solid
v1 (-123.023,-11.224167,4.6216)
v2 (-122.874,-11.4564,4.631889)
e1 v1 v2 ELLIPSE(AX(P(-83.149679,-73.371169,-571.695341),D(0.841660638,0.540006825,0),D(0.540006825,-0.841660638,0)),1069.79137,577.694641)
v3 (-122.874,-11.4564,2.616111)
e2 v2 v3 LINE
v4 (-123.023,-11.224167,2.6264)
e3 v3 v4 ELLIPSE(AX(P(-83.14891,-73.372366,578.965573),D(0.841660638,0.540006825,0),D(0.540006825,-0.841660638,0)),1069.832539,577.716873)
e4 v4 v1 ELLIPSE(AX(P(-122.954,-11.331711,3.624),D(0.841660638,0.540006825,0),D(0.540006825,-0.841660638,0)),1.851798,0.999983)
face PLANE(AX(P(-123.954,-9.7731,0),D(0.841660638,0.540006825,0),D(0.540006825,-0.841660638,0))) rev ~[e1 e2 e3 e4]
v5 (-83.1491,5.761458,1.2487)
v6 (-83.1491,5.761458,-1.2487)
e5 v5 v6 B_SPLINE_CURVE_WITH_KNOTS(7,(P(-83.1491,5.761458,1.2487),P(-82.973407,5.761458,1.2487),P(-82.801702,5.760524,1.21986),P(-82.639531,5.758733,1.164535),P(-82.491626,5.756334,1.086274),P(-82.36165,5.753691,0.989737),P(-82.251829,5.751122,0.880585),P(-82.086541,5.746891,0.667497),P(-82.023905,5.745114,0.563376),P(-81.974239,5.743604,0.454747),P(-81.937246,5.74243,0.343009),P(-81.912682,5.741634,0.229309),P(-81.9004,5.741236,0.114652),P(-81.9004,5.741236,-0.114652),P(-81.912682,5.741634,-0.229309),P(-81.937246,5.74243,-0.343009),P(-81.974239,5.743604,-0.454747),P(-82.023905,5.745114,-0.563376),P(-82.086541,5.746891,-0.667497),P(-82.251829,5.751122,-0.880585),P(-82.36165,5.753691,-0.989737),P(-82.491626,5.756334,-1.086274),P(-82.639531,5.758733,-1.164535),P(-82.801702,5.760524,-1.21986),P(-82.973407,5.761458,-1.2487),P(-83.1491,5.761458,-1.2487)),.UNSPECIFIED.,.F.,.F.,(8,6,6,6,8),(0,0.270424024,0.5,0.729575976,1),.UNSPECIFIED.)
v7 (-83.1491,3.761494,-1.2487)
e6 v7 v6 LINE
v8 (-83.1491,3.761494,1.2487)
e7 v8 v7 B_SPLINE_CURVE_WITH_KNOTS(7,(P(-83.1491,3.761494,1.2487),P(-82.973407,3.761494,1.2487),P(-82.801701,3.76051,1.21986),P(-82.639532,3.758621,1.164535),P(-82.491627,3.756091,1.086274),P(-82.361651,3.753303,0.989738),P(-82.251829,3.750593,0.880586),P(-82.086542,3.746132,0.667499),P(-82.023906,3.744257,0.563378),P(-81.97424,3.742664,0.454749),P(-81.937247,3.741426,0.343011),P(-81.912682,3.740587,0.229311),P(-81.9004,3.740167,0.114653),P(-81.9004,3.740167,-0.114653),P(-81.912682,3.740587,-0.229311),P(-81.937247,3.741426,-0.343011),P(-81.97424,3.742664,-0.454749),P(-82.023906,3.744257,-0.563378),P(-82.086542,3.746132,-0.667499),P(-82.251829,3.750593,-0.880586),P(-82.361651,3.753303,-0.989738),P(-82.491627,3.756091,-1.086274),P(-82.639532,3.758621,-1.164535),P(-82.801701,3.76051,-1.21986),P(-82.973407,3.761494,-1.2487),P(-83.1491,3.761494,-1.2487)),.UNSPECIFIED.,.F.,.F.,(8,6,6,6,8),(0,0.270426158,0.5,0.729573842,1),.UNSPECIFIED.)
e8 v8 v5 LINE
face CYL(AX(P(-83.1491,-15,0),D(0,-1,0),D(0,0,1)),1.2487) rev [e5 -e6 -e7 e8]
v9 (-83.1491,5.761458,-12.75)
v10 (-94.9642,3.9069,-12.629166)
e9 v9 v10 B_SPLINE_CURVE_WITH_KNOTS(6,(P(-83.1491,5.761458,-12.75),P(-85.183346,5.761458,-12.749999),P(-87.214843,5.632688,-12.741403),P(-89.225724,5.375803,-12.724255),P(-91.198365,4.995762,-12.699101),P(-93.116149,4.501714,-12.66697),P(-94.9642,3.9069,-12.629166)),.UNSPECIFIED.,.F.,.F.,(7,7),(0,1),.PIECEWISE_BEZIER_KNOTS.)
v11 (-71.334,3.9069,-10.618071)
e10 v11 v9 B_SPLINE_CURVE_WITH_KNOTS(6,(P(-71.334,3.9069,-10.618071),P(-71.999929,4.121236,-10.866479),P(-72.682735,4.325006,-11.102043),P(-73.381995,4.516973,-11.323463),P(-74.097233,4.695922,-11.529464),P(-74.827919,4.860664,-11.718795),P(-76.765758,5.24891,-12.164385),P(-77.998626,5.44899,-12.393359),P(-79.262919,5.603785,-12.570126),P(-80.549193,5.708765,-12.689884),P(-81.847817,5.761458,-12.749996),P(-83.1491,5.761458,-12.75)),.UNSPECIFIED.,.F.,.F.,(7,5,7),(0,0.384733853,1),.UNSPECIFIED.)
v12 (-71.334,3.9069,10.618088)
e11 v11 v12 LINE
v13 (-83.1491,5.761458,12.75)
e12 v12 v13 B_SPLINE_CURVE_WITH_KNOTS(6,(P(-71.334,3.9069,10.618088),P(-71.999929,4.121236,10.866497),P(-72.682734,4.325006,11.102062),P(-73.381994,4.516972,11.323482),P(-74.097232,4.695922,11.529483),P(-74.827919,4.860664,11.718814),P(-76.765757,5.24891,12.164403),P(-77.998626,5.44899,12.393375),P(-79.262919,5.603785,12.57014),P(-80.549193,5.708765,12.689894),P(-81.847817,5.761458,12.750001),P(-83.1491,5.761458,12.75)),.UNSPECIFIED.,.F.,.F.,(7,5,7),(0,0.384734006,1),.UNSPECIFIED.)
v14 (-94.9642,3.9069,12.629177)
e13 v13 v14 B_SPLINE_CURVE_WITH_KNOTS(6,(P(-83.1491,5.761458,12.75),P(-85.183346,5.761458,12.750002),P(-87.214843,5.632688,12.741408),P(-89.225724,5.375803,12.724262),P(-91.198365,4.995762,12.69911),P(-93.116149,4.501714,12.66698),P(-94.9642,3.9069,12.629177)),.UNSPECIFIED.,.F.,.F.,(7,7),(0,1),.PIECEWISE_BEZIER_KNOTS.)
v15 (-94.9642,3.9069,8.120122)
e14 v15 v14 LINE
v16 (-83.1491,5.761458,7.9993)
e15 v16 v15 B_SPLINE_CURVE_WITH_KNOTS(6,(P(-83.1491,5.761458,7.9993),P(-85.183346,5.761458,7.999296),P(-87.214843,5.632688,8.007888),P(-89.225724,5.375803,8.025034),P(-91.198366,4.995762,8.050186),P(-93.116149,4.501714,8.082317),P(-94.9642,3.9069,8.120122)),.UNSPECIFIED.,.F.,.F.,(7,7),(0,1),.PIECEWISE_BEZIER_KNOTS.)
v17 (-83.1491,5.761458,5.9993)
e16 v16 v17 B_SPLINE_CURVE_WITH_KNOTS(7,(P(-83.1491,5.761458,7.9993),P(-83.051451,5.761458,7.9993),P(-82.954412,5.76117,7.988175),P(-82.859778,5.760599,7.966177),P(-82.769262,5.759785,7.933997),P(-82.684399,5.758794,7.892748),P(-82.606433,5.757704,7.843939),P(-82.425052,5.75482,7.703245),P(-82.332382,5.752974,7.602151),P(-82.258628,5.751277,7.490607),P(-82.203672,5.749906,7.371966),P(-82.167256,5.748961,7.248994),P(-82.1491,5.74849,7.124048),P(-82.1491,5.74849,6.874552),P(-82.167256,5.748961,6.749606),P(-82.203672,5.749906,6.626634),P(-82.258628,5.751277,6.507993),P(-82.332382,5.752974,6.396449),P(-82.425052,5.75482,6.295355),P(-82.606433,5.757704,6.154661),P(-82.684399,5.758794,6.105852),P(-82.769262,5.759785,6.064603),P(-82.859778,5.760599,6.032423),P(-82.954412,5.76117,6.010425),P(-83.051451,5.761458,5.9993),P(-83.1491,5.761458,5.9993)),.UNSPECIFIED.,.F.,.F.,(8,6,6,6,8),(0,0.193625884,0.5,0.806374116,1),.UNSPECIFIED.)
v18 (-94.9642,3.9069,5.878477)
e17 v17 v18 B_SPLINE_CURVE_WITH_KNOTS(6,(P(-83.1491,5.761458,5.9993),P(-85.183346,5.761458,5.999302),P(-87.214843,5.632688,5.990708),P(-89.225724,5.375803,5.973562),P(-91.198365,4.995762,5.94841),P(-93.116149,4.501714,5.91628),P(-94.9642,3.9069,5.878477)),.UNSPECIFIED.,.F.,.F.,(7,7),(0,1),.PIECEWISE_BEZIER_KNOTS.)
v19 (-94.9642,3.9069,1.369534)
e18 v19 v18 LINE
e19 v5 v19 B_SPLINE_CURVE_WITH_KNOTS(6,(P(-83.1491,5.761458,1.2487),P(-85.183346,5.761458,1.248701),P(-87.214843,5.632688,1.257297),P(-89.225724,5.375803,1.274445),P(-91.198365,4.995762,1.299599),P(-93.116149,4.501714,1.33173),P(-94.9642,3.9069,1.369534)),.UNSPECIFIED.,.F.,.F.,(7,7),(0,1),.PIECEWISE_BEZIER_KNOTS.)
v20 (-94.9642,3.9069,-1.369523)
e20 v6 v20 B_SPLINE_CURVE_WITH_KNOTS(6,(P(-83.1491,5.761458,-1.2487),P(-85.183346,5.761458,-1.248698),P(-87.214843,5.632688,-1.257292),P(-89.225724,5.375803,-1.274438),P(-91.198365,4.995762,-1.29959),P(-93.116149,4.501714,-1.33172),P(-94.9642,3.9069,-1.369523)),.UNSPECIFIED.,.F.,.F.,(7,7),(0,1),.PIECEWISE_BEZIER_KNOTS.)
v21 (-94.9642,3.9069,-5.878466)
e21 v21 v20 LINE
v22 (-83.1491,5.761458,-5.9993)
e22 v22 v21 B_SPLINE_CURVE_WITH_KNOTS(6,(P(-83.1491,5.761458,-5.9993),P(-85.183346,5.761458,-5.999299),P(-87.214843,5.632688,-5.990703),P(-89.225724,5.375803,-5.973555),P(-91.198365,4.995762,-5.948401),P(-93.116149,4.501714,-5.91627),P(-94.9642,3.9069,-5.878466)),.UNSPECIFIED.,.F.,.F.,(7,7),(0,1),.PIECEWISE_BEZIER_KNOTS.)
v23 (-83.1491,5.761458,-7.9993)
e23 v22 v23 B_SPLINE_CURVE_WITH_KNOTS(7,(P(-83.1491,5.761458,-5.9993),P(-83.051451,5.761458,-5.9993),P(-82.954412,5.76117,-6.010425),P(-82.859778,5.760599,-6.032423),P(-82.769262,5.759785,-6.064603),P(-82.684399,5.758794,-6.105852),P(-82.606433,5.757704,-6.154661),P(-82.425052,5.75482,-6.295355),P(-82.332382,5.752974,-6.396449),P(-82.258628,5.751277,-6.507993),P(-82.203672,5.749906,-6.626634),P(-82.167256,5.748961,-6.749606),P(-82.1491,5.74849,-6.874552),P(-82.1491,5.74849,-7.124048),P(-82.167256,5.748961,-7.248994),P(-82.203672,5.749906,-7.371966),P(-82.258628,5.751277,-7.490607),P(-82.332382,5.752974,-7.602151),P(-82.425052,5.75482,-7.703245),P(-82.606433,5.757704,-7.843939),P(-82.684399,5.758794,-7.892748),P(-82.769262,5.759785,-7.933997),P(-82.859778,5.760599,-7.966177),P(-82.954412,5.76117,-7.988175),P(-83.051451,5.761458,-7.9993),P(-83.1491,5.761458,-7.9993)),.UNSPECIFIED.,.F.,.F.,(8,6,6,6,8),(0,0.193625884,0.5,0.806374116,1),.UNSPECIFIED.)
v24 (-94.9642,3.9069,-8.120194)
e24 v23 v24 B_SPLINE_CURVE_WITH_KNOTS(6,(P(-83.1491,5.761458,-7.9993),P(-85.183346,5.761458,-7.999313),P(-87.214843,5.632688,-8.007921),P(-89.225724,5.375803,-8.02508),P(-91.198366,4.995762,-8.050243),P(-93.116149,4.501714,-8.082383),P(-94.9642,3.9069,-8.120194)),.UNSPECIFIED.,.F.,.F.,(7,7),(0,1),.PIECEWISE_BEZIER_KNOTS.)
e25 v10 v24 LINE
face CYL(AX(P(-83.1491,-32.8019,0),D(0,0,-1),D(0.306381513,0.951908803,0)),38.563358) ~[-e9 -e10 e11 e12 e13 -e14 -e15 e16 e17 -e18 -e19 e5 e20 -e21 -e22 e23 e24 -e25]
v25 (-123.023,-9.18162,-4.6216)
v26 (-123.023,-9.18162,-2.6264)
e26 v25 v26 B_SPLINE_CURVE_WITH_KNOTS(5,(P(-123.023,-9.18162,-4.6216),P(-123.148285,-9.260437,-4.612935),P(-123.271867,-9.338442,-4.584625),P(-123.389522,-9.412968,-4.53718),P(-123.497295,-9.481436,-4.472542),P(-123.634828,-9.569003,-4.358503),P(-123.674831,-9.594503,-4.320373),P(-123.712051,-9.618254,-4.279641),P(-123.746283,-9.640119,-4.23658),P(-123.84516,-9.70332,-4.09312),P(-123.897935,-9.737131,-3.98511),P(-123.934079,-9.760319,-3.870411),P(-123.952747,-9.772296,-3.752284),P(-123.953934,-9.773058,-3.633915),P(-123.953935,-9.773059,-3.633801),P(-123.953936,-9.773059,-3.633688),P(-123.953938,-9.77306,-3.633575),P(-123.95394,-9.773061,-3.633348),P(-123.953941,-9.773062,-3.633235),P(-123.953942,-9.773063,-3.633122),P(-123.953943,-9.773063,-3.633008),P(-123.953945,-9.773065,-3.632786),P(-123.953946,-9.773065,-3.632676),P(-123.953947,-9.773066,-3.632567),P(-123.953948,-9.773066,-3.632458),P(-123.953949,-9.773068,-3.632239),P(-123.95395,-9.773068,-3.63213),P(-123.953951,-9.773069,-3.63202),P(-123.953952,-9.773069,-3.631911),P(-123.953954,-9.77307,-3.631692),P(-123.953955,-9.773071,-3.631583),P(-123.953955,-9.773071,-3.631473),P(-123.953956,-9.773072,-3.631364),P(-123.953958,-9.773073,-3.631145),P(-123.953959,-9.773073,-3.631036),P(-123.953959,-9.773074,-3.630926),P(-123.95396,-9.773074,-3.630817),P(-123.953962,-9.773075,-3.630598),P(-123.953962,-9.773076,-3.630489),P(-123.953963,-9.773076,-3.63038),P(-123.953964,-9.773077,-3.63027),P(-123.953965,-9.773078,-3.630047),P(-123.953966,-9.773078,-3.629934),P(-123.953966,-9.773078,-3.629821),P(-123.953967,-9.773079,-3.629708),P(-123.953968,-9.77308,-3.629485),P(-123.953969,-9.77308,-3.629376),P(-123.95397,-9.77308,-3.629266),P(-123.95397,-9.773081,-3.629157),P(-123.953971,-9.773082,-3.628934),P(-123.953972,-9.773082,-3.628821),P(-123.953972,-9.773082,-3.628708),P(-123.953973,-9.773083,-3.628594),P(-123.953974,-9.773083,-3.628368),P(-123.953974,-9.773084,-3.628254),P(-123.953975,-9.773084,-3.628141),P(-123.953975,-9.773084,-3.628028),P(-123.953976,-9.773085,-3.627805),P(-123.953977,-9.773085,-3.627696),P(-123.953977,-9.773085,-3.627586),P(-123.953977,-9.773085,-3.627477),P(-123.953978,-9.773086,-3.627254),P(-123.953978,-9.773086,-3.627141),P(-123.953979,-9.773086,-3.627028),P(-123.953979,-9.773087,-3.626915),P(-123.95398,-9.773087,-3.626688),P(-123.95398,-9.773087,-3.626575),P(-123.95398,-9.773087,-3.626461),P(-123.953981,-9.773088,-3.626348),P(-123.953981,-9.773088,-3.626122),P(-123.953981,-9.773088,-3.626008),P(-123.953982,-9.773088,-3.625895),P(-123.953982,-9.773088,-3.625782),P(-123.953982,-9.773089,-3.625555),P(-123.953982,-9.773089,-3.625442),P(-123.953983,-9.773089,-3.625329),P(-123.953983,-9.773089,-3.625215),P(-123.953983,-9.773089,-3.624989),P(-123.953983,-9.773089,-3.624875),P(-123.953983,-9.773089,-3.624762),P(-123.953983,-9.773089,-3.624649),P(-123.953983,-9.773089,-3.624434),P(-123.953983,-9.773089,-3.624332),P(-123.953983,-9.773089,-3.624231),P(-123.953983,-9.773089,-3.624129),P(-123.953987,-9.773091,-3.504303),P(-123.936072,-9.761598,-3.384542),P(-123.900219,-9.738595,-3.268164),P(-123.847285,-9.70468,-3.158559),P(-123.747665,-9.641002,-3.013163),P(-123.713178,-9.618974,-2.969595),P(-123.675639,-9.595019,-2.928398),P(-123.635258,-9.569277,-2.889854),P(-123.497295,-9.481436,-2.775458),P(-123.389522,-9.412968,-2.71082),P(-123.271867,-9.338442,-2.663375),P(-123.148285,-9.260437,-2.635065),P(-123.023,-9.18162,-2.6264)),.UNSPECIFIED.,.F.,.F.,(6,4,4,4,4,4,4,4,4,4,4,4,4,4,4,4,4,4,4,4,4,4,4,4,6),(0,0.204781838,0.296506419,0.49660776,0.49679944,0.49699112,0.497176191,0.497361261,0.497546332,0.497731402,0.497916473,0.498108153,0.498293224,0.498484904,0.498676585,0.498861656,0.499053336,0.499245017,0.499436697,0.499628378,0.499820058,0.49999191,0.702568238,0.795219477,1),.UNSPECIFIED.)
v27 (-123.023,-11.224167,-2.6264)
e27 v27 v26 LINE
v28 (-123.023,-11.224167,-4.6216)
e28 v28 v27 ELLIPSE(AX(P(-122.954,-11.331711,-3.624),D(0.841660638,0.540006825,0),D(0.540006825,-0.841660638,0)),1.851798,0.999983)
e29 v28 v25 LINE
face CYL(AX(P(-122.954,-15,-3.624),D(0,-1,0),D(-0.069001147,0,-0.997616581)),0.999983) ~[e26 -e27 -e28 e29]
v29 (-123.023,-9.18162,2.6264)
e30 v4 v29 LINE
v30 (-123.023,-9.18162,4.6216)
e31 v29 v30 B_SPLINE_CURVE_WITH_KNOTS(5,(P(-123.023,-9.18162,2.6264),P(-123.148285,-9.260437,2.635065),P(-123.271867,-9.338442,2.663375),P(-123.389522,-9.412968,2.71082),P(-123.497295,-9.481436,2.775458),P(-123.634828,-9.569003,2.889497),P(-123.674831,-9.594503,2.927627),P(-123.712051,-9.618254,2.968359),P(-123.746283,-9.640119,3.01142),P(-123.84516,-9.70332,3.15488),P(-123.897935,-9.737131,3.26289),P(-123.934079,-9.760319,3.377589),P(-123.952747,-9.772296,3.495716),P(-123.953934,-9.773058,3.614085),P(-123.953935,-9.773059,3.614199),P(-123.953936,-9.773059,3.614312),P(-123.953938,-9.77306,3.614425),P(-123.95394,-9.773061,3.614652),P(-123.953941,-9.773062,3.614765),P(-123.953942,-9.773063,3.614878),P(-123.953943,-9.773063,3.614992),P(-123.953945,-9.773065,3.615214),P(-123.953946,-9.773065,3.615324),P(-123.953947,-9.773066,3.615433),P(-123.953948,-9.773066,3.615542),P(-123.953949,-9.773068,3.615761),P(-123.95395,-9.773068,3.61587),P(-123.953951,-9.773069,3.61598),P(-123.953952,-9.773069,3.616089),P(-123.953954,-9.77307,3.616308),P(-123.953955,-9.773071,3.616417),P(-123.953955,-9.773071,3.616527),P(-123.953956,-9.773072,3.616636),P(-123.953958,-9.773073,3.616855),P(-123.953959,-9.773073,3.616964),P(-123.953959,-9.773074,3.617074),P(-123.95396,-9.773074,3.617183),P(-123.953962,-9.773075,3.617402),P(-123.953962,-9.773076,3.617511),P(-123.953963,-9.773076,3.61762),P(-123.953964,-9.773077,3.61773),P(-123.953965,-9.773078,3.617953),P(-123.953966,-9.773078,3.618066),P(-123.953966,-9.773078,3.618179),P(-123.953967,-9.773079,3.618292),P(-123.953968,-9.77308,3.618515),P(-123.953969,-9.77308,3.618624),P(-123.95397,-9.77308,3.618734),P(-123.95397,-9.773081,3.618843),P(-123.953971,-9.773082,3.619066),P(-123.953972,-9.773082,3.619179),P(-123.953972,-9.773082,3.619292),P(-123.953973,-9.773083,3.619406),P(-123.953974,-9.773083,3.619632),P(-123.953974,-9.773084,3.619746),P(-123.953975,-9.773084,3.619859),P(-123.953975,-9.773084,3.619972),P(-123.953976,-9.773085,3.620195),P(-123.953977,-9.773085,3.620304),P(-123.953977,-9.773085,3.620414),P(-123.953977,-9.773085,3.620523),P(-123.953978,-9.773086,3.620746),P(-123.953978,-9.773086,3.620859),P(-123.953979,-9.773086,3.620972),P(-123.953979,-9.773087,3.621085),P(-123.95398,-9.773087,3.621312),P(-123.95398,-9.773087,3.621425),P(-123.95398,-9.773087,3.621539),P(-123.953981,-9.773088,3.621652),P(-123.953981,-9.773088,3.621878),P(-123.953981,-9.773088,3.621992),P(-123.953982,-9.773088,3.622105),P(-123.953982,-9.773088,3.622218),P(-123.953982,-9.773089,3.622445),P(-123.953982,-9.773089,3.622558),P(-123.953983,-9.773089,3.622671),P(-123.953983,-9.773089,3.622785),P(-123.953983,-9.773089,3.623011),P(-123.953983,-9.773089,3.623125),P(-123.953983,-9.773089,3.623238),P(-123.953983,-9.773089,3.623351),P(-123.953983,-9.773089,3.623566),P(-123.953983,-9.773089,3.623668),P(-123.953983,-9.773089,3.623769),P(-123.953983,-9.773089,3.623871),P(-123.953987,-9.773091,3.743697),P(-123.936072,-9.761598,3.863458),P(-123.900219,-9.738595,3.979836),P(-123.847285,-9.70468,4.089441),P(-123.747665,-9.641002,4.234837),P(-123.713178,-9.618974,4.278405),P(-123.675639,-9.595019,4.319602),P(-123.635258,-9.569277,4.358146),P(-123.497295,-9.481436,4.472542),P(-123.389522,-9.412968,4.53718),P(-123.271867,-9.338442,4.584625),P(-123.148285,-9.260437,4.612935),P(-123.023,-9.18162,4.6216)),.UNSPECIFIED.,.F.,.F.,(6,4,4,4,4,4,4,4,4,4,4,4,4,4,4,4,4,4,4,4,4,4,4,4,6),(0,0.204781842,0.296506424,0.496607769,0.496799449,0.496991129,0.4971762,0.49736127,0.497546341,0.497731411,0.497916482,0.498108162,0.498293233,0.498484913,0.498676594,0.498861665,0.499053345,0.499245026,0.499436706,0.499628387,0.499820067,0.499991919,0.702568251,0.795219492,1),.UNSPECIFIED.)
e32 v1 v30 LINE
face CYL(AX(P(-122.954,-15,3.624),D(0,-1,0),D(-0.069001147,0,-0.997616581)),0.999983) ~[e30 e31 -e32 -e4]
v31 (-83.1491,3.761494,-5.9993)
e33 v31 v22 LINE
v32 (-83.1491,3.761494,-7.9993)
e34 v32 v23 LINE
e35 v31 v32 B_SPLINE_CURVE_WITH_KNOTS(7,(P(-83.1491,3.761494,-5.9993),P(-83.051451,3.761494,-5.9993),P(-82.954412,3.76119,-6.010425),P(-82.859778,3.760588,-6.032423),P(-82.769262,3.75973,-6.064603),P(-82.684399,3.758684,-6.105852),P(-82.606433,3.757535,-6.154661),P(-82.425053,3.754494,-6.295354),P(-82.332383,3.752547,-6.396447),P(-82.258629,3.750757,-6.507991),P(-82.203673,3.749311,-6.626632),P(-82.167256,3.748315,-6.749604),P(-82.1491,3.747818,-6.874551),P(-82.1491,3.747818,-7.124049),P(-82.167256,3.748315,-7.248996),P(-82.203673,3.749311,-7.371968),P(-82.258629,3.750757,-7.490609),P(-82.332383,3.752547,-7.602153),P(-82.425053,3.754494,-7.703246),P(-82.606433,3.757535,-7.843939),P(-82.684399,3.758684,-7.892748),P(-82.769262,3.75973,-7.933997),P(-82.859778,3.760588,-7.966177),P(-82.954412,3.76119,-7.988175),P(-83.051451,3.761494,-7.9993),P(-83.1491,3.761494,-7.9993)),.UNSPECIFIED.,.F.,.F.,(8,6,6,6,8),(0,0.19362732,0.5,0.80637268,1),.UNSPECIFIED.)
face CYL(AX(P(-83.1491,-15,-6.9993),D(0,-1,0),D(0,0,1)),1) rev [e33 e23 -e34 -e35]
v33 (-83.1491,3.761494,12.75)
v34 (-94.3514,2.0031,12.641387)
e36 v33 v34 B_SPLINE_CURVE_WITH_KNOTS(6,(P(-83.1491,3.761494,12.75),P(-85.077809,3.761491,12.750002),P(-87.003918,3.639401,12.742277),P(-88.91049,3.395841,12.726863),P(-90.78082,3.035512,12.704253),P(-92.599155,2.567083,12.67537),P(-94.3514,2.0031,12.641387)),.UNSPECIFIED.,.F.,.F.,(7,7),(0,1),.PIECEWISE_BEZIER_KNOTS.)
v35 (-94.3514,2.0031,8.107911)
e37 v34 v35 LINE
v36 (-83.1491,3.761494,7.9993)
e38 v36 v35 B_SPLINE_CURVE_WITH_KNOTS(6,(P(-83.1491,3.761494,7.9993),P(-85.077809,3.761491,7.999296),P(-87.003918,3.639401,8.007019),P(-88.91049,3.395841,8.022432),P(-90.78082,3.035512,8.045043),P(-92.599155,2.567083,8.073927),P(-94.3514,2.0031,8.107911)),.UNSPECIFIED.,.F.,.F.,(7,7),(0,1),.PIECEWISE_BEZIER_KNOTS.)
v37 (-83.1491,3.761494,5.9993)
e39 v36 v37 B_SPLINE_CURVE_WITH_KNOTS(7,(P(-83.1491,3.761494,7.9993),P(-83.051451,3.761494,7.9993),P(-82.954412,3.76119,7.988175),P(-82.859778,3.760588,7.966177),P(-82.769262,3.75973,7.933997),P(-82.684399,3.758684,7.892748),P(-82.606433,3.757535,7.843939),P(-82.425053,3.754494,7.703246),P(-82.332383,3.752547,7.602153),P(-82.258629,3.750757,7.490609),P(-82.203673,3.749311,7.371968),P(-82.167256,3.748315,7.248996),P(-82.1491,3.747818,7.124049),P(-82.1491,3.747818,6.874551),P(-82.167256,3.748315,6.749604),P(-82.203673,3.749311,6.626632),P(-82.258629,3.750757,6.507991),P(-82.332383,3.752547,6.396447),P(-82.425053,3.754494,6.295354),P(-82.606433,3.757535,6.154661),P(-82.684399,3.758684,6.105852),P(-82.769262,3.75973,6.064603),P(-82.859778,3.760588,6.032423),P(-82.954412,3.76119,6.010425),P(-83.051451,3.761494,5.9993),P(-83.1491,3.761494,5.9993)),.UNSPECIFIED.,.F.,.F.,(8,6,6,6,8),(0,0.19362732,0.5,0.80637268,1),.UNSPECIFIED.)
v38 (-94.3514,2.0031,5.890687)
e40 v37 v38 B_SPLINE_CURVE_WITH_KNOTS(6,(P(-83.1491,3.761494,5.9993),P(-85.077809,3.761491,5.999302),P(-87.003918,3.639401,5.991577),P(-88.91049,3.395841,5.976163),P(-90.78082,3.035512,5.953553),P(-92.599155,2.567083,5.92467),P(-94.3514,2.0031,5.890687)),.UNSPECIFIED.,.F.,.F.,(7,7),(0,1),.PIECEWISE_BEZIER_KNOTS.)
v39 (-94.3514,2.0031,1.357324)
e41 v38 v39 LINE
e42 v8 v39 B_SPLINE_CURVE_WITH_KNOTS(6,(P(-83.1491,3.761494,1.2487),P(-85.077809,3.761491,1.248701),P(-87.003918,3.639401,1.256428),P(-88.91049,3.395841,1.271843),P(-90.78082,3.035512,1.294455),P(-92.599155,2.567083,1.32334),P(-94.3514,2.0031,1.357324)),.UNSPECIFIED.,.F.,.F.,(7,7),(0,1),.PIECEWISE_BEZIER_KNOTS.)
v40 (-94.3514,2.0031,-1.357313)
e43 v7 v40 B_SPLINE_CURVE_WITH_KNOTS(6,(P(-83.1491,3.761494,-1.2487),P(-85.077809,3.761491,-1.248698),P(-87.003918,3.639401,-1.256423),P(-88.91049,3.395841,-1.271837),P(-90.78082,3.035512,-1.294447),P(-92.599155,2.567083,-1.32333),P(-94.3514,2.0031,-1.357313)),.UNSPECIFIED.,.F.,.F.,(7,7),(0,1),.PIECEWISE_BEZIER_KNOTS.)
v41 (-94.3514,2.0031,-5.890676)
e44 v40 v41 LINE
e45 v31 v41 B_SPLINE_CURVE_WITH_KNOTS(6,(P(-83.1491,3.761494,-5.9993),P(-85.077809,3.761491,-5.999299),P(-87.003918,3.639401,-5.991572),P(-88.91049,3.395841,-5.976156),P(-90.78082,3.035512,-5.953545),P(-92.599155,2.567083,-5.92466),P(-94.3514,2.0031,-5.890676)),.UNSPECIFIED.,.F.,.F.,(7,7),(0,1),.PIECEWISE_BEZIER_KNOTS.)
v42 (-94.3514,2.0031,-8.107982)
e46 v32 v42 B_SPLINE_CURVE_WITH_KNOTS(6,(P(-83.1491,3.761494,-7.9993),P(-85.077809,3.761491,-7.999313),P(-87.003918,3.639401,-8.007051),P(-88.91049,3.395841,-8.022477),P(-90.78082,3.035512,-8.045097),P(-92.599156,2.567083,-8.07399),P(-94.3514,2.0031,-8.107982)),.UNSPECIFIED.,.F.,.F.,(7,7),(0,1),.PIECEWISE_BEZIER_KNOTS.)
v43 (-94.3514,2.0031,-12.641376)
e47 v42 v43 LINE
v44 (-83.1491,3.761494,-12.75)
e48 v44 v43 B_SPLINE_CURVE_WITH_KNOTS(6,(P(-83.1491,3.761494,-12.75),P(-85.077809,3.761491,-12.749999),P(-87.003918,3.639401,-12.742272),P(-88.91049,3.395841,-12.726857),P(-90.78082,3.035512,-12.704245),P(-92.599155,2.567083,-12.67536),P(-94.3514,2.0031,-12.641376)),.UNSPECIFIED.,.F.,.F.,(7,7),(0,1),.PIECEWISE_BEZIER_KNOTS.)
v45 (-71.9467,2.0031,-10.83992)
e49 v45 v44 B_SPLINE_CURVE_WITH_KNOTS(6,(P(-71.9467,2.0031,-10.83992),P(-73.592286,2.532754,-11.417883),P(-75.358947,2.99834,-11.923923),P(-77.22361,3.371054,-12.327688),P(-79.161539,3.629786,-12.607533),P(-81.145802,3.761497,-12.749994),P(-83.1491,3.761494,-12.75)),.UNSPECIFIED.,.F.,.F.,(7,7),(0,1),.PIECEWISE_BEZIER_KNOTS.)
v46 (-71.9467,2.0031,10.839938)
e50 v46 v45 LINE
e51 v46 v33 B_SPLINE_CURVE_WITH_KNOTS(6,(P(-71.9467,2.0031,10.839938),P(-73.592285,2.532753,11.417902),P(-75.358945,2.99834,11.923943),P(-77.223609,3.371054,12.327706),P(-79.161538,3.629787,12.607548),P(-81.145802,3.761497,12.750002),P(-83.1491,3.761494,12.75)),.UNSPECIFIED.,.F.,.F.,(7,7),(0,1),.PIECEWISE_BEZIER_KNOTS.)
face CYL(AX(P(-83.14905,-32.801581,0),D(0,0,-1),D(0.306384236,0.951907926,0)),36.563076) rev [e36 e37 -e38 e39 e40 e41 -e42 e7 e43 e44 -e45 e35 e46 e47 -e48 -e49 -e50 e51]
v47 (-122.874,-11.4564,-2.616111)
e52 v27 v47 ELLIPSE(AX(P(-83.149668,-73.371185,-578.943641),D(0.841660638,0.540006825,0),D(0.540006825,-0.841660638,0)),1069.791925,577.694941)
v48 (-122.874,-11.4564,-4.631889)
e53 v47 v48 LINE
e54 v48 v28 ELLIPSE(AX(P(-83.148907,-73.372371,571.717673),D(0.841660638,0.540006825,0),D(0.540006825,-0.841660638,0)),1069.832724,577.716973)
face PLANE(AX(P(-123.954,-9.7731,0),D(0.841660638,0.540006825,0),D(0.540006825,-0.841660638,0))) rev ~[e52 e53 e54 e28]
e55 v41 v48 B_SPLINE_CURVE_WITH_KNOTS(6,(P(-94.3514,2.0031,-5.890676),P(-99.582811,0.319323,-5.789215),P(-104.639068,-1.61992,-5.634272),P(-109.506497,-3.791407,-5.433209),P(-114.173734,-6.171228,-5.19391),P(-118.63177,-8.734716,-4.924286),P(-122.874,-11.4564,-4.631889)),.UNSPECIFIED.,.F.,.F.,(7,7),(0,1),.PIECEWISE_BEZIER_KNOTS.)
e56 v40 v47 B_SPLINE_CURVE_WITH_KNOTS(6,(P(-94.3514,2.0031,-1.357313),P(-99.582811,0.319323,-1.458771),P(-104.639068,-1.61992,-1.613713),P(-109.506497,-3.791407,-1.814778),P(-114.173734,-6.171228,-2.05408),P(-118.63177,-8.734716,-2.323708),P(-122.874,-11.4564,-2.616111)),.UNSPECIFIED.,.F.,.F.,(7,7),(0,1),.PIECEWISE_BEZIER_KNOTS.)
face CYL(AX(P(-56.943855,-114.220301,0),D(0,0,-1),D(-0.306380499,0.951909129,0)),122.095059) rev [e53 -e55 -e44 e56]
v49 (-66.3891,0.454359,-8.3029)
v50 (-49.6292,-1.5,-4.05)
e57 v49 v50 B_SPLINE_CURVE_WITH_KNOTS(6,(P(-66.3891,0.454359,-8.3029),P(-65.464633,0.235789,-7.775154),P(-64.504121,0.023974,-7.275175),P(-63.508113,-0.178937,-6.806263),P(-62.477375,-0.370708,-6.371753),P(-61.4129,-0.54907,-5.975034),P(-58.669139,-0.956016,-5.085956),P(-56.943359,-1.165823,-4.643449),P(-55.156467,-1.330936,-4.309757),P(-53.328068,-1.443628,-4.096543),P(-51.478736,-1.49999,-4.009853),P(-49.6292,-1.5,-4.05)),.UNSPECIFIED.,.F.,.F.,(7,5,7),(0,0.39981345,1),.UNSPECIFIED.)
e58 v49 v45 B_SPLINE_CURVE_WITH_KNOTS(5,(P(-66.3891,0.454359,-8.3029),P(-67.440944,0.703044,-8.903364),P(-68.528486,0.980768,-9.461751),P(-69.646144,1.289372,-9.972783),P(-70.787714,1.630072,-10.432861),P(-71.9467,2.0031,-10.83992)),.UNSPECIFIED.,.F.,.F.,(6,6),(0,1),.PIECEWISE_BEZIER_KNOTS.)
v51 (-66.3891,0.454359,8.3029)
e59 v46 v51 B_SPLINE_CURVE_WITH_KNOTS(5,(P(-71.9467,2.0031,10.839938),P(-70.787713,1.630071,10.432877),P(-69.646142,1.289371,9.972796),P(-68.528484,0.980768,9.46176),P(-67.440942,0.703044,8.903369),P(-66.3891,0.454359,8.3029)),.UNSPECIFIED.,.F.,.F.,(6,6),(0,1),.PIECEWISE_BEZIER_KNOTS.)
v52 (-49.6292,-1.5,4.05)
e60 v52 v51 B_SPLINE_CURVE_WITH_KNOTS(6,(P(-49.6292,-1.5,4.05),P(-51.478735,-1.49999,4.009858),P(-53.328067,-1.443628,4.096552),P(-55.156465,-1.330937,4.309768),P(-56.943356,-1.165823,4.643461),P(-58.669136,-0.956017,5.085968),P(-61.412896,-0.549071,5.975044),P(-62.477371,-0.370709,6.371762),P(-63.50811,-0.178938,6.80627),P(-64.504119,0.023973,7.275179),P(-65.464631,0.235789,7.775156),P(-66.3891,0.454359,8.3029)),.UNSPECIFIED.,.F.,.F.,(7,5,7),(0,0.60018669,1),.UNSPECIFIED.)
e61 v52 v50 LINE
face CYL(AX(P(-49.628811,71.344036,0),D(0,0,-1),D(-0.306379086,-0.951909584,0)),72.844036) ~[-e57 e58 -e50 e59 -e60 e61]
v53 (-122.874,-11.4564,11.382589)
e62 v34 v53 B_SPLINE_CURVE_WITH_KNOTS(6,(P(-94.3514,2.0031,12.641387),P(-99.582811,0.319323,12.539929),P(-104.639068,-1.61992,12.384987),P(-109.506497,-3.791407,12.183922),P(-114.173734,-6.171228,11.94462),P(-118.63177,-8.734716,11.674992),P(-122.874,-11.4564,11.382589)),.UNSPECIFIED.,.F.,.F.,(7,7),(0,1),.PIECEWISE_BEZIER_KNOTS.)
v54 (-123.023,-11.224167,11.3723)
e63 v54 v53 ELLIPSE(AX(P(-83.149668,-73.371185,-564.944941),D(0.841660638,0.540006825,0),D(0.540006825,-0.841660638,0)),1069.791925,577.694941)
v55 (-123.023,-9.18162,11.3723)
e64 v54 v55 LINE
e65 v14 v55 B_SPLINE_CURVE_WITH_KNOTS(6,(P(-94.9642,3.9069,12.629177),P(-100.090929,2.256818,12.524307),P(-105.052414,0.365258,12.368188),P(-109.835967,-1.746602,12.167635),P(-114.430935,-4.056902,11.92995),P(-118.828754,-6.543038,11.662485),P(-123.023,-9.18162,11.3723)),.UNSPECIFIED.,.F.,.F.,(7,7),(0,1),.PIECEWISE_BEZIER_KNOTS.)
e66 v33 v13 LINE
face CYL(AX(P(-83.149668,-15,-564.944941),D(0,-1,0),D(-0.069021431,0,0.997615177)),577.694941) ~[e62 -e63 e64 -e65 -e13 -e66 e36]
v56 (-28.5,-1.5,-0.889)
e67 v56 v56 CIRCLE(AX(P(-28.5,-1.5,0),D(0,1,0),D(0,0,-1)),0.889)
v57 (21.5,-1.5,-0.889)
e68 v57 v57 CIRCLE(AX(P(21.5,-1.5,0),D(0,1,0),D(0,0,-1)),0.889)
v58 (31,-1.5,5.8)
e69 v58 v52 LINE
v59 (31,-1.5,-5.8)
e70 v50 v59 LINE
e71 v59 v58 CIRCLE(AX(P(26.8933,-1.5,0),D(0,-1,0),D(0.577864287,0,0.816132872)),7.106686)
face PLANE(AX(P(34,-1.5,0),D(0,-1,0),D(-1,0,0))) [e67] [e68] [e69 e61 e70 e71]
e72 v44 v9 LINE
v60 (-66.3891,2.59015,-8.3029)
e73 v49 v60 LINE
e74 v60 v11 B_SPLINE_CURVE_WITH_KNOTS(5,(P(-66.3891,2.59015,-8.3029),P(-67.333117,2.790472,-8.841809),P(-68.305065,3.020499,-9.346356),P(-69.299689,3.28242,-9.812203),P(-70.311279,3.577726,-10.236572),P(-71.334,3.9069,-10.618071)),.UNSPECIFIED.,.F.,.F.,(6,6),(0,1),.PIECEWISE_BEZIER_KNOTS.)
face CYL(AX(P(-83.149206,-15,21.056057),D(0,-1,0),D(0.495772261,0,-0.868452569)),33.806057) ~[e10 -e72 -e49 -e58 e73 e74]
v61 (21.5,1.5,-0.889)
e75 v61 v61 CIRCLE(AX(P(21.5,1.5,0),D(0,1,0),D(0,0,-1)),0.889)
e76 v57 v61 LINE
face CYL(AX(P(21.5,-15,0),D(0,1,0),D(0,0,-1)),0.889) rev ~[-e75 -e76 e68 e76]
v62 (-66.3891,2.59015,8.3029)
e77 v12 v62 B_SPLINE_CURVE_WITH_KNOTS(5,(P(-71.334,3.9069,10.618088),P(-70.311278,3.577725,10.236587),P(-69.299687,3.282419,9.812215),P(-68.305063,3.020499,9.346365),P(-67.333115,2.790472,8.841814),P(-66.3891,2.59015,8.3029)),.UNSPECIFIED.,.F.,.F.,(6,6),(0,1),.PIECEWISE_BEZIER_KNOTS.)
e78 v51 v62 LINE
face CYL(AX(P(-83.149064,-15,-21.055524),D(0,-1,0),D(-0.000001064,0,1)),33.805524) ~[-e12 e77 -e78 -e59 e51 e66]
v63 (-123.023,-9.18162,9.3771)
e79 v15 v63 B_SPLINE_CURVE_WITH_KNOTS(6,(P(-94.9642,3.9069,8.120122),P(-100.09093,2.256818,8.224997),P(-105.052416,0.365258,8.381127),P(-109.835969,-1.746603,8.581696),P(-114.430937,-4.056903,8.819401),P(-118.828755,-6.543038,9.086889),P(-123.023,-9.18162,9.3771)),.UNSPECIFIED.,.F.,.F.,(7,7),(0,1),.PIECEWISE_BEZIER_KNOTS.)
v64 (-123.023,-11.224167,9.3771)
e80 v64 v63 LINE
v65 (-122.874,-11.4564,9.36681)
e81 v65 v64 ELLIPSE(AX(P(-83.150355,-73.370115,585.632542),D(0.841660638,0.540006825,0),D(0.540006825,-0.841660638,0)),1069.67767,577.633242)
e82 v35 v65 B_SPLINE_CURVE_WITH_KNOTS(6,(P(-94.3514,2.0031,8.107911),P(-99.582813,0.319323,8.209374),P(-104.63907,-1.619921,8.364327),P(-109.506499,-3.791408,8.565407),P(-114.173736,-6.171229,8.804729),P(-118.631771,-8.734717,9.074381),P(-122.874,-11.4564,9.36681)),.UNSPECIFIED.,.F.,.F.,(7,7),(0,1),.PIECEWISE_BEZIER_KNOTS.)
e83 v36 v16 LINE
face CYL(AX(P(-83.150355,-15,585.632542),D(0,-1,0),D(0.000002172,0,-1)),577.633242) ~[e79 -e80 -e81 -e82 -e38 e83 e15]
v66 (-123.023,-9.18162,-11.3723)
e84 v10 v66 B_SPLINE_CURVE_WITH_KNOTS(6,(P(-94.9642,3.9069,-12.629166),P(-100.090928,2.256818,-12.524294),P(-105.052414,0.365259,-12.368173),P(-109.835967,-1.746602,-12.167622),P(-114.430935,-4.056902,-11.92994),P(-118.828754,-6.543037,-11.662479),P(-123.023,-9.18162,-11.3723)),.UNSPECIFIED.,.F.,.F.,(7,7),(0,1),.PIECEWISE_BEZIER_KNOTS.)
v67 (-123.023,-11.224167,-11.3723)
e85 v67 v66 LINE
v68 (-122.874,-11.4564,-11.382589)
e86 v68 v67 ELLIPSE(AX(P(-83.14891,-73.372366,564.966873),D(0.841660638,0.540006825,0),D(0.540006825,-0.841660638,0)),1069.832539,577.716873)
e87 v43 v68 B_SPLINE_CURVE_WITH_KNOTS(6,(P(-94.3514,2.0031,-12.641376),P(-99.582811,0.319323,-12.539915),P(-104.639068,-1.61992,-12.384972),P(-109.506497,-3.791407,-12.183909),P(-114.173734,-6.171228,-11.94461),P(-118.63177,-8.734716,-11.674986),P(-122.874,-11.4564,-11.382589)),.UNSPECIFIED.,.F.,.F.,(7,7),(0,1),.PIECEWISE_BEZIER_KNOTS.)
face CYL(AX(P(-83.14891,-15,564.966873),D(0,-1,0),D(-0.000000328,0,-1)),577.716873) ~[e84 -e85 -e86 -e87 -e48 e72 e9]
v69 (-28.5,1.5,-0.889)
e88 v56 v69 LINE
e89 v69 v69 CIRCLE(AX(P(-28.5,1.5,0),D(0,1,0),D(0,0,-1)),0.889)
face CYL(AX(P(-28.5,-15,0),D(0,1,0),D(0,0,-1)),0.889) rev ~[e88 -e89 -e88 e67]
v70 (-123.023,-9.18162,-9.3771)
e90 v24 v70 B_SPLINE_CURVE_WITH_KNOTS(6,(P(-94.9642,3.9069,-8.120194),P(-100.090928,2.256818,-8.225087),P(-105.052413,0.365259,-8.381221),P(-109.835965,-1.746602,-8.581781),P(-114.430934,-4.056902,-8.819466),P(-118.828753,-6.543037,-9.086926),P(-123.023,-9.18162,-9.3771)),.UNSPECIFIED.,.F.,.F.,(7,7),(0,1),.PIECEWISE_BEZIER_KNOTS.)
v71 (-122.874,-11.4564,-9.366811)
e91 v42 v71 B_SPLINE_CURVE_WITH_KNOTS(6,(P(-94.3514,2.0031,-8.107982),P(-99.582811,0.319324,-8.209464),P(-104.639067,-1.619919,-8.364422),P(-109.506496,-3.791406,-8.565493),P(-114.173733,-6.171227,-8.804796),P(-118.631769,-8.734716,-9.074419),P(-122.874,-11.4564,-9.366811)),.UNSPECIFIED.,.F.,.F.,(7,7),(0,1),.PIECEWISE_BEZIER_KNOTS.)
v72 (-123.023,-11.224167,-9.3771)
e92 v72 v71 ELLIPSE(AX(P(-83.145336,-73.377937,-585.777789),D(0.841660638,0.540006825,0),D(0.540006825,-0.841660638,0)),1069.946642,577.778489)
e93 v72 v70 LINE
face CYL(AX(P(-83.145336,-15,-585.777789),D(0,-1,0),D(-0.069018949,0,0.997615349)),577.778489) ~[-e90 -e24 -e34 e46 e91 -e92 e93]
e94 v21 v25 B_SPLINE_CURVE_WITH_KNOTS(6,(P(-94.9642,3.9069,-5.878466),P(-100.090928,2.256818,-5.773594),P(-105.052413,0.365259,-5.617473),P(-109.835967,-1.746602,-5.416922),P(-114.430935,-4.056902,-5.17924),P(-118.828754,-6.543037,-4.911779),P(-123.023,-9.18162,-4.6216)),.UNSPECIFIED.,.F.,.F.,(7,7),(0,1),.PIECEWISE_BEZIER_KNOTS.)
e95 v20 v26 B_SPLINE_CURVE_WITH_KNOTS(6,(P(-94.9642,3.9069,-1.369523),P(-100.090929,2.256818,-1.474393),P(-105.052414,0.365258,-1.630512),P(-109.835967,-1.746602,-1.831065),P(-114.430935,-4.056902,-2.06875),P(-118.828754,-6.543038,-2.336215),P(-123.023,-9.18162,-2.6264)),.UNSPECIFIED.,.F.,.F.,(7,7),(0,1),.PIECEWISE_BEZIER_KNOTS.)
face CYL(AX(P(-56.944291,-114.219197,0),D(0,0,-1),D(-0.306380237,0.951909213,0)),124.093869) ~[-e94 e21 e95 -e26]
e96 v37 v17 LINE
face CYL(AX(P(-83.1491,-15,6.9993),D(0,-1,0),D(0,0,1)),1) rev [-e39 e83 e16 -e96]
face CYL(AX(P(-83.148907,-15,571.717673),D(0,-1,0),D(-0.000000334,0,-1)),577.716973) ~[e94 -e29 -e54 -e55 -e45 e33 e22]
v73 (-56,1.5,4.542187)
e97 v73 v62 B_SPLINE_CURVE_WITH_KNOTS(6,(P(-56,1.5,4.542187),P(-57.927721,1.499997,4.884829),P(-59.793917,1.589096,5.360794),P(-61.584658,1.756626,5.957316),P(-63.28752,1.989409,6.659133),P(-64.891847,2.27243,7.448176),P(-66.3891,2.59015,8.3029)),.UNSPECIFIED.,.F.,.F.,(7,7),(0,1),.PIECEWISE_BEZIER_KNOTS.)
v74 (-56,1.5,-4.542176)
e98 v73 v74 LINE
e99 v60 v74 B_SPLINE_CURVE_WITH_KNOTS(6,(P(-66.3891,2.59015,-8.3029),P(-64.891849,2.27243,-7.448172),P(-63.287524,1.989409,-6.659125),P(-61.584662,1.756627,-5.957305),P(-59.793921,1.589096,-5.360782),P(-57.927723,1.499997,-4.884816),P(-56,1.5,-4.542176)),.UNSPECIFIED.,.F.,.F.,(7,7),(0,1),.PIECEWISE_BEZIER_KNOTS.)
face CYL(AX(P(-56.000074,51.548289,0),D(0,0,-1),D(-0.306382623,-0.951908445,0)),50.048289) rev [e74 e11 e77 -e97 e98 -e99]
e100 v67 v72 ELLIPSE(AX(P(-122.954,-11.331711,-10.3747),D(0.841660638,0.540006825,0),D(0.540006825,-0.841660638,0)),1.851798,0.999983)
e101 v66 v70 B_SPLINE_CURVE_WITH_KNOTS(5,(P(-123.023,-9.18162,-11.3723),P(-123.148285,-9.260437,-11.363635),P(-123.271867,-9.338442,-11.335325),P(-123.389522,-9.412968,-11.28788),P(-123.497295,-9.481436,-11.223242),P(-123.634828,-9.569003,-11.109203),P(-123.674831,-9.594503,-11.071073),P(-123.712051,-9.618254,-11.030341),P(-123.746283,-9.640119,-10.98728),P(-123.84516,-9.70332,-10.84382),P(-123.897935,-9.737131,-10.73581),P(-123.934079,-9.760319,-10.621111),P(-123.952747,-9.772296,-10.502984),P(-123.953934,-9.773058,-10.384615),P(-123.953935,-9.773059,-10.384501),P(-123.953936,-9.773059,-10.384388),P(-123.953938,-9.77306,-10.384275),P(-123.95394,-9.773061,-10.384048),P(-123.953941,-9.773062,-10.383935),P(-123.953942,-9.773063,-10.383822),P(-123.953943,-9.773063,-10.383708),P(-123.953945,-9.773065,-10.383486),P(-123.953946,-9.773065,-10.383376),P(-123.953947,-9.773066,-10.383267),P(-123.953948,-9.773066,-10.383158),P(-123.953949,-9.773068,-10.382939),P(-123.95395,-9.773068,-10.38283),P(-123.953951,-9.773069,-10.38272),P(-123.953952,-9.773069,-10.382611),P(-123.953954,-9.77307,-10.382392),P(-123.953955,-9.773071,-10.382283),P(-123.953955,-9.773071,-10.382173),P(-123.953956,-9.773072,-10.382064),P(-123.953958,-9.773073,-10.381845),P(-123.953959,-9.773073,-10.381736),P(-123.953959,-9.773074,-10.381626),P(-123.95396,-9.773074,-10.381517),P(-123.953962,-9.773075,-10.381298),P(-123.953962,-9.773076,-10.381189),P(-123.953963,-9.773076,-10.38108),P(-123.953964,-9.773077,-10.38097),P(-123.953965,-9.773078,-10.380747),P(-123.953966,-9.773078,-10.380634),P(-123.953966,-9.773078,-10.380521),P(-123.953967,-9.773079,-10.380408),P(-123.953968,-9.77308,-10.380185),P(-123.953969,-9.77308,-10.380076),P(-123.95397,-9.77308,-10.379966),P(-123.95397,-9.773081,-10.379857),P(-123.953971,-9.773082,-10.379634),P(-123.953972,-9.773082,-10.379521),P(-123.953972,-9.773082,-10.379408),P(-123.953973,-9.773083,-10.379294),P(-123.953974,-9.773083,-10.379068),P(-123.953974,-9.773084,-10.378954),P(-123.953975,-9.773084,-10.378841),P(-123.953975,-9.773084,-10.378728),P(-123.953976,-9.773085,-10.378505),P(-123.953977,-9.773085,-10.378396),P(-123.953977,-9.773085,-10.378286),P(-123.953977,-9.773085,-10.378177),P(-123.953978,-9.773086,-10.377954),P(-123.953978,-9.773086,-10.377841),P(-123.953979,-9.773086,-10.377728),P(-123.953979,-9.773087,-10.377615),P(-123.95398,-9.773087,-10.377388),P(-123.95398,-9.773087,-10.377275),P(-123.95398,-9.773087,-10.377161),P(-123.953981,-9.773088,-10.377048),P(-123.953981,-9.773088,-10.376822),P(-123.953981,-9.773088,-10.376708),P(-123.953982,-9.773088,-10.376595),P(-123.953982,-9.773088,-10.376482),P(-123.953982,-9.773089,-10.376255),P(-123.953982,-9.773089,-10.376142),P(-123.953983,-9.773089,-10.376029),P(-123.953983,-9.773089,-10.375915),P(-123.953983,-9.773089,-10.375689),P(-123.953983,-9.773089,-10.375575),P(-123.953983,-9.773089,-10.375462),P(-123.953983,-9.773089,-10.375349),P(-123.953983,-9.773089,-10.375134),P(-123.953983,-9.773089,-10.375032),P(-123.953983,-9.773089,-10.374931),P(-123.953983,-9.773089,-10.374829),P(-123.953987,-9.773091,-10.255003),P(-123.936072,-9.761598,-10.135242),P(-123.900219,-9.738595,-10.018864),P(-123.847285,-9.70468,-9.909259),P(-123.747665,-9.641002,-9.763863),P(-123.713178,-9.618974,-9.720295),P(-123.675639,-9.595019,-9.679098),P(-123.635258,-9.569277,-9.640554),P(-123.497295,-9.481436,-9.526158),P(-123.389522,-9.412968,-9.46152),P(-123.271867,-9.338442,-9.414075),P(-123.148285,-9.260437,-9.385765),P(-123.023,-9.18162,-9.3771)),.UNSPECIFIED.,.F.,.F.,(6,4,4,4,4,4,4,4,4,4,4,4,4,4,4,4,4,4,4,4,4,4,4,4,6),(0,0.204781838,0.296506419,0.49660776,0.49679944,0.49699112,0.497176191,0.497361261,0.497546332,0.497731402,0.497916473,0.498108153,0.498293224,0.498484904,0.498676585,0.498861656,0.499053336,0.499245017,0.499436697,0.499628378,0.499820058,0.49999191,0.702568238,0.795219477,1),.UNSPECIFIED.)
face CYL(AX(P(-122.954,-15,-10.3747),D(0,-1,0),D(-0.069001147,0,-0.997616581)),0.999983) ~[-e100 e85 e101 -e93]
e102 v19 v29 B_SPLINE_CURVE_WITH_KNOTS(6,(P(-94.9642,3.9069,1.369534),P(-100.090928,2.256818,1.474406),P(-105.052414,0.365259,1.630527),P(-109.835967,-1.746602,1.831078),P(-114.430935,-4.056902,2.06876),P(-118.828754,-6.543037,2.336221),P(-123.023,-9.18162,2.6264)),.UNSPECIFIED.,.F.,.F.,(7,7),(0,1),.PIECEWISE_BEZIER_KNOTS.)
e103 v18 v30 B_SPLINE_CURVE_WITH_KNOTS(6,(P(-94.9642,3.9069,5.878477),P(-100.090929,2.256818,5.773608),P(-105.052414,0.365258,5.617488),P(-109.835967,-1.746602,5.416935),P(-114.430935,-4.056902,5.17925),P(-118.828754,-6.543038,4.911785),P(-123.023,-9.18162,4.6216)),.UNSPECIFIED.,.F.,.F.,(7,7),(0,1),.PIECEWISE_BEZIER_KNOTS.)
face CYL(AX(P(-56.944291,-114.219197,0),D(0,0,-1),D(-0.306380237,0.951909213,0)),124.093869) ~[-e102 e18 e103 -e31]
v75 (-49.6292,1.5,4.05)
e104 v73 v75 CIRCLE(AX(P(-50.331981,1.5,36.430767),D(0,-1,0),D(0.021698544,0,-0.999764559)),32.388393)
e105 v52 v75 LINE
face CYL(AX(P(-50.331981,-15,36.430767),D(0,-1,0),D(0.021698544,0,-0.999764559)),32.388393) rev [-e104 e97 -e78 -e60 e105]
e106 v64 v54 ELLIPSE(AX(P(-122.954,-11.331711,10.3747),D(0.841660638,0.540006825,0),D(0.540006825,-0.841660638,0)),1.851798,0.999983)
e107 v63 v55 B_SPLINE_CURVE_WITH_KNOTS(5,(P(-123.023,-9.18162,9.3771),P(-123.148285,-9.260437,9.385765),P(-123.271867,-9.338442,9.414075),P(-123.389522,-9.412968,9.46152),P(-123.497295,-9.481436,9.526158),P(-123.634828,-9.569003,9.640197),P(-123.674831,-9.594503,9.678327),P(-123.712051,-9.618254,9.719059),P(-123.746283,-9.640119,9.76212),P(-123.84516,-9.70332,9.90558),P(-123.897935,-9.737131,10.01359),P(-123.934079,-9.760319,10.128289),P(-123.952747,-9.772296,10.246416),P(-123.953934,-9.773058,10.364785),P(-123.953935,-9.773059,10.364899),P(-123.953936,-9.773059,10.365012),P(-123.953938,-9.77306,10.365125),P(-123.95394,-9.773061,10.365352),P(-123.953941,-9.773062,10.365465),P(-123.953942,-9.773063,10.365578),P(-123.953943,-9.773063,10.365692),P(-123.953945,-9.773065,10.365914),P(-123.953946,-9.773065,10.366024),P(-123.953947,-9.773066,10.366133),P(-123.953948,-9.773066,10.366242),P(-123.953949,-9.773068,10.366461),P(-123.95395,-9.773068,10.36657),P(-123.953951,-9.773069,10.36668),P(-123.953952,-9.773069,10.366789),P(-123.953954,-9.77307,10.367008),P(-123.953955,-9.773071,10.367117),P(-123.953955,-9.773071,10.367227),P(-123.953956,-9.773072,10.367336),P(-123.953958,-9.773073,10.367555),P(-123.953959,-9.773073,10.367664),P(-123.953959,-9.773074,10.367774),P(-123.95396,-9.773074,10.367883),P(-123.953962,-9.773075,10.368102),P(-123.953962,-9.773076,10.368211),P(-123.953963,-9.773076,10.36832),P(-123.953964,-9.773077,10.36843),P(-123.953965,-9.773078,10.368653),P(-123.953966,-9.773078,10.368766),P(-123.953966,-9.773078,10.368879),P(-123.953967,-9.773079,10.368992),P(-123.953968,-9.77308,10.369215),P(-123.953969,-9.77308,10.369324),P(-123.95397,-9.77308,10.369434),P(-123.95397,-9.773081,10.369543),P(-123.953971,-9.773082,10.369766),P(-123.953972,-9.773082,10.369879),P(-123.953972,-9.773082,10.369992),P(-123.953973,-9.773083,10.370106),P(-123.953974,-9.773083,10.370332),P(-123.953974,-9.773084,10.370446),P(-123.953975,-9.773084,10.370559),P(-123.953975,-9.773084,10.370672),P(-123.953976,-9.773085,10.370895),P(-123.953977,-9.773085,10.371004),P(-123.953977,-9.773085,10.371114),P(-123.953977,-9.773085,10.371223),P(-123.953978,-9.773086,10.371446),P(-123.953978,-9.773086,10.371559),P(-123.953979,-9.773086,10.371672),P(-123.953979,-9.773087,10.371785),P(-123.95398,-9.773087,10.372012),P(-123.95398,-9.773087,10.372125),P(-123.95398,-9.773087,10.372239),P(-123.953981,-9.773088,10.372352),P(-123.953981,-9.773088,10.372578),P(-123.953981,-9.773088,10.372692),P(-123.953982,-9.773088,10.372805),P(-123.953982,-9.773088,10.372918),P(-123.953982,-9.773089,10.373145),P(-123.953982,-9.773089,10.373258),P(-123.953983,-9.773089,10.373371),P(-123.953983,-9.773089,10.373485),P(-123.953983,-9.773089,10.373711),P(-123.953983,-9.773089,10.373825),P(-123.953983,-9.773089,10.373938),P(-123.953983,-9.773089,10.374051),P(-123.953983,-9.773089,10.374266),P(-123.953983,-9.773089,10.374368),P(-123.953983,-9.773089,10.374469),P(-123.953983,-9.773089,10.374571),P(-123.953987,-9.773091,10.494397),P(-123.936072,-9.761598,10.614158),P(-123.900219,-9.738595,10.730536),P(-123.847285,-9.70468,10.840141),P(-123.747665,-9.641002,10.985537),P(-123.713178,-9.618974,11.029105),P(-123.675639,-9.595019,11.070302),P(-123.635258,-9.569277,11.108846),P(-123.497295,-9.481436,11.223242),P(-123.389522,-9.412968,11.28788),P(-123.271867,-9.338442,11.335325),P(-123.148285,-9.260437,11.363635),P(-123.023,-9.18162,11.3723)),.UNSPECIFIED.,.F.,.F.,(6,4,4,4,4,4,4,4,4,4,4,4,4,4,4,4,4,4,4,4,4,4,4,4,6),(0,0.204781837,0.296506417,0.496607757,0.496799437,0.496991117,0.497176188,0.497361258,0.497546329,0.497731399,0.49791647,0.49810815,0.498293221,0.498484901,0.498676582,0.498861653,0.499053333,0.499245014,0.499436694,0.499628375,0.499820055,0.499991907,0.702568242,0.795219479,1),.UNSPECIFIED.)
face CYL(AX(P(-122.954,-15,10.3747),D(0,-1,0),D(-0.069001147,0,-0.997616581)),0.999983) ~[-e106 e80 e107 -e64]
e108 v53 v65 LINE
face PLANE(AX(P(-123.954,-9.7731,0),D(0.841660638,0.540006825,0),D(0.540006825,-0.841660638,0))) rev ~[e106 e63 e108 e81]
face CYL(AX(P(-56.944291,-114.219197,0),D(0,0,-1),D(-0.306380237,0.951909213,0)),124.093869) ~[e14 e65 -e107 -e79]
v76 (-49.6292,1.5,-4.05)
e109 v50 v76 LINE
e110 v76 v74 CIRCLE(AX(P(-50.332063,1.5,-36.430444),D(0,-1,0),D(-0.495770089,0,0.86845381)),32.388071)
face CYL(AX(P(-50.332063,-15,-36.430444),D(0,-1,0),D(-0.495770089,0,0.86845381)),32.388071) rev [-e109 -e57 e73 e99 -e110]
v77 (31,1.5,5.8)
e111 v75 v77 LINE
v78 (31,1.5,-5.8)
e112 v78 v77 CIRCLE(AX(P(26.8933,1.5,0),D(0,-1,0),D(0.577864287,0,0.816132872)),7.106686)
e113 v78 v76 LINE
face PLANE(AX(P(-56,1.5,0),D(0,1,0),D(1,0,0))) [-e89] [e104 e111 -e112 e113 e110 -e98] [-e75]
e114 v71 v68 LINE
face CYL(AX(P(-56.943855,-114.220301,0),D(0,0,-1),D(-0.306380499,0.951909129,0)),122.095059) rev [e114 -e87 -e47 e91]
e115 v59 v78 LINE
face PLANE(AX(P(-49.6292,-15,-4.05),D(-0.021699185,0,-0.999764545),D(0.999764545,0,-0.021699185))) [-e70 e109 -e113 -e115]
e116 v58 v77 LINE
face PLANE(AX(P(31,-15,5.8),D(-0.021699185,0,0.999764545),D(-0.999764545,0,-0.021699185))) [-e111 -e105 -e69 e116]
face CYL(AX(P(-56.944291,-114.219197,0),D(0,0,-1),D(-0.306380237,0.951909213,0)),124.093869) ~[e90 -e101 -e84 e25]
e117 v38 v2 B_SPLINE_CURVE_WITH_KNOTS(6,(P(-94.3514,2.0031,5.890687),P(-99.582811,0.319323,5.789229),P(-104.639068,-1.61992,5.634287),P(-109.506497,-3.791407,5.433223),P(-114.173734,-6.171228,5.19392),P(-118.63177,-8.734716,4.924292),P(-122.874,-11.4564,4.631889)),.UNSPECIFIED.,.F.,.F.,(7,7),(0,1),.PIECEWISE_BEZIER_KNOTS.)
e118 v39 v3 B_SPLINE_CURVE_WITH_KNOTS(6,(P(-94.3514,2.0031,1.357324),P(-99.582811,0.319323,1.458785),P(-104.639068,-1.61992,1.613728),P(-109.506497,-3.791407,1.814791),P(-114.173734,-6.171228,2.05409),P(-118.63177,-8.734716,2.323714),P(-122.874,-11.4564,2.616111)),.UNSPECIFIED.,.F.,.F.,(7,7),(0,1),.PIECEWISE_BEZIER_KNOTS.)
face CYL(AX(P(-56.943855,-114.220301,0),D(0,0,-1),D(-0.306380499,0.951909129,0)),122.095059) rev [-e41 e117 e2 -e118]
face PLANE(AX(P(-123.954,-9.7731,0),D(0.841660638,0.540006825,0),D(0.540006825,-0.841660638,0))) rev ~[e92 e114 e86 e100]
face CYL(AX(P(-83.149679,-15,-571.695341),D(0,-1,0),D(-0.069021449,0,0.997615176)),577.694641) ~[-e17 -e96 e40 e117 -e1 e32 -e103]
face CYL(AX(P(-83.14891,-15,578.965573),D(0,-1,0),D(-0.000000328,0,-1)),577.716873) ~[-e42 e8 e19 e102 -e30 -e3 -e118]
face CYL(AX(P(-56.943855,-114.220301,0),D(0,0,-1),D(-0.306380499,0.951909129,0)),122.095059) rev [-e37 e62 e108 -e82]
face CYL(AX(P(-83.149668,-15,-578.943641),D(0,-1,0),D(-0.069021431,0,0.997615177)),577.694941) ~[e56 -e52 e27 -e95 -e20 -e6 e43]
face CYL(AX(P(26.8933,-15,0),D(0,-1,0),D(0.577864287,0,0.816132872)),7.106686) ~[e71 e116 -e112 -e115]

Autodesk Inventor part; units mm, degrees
ref_plane "YZ Plane" through (0, 0, 0) normal (1, 0, 0) x (0, 1, 0)
ref_plane "XY Plane" through (0, 0, 0) normal (0, 0, 1) x (1, 0, 0)
sketch "スケッチ2" plane through (0, 0, 0) normal (0, 0, 1) x (1, 0, 0)
  arc A0 (-71.334, 3.9069) -> (-94.9642, 3.9069) centre (-83.1491, -32.8019) ccw
  arc A1 (-71.334, 3.9069) -> (-56, 1.5) centre (-56, 51.5486) ccw
  arc A2 (-94.9642, 3.9069) -> (-123.954, -9.7731) centre (-56.9435, -114.2212) ccw
  line L0 (-56, 1.5) -> (34, 1.5)
  arc A3 (-71.9467, 2.0031) -> (-94.3514, 2.0031) centre (-83.1491, -32.8019) ccw
  arc A4 (-94.3514, 2.0031) -> (-122.874, -11.4564) centre (-56.9435, -114.2212) ccw
  line L1 (34, -1.5) -> (-49.6292, -1.5)
  arc A5 (-71.9467, 2.0031) -> (-49.6292, -1.5) centre (-49.6292, 71.3424) ccw
  line L2 (34, 1.5) -> (34, -1.5)
  line L3 (-123.954, -9.7731) -> (-122.874, -11.4564)
  line L4 (-71.9467, 2.0031) -> (-71.334, 3.9069) construction
  point P0 (0, 0)
  point P1 (-83.1491, 5.7615)
  point P2 (0, 0)
  point P3 (34, 0)
  dimension "d19" = 90
  dimension "d27" = 38.5634
  dimension "d28" = 124.096
  dimension "d29" = 14.842
  dimension "d49" = 50.0486
  dimension "d51" = 3
  dimension "d52" = 35.683
  dimension "d53" = 2
  dimension "d54" = 34
extrude "押し出し2" add sketch "スケッチ2" along normal mid plane 25.5
ref_plane "作業平面3" through (0, -15, 0) normal (0, 1, 0) x (-1, 0, 0)
sketch "スケッチ7" plane through (0, -15, 0) normal (0, 1, 0) x (-1, 0, 0)
  line L0 (-34, -12.75) -> (-34, 12.75) projected
  line L1 (-31, 5.8) -> (49.6292, 4.05)
  line L2 (49.6292, -4.05) -> (-31, -5.8)
  arc A0 (-31, 5.8) -> (-31, -5.8) centre (-26.8933, 0) ccw
  line L3 (49.6292, 4.05) -> (49.6292, -4.05)
  line L4 (49.6292, -12.75) -> (49.6292, 12.75) projected
  arc A1 (49.6292, 4.05) -> (66.3891, 8.3029) centre (50.332, 36.4306) ccw
  arc A2 (83.1491, 12.75) -> (66.3891, 8.3029) centre (83.1491, -21.0558) ccw
  arc A3 (123.023, 11.3723) -> (83.1491, 12.75) centre (83.1491, -564.9559) ccw
  line L5 (71.9467, 12.75) -> (94.3514, 12.75) projected
  line L6 (83.1491, 22.835) -> (66.3891, 22.835)
  line L7 (66.3891, 22.835) -> (49.6292, 22.835)
  line L8 (134.4168, 12.75) -> (134.4168, 6.375)
  line L9 (134.4168, 6.375) -> (134.4168, 0)
  line L10 (134.4168, 0) -> (134.4168, -6.375)
  line L11 (134.4168, -6.375) -> (134.4168, -12.75)
  line L12 (94.3514, -12.75) -> (71.9467, -12.75) projected
  arc A4 (123.023, 9.3771) -> (123.023, 11.3723) centre (122.954, 10.3747) ccw
  line L13 (122.954, 10.3747) -> (110.8745, 10.3747)
  arc A5 (83.1491, 7.9993) -> (123.023, 9.3771) centre (83.1491, 585.7052) ccw
  arc A6 (83.1491, 7.9993) -> (82.1491, 6.9993) centre (83.1491, 6.9993) ccw
  line L14 (123.954, -12.75) -> (123.954, 12.75) projected
  line L15 (83.1491, 6.9993) -> (89.0198, 6.9993)
  arc A7 (123.023, 2.6264) -> (123.023, 4.6216) centre (122.954, 3.624) ccw
  line L16 (122.954, 3.624) -> (110.8745, 3.624)
  arc A8 (123.023, 4.6216) -> (83.1491, 5.9993) centre (83.1491, -571.7065) ccw
  arc A9 (82.1491, 6.9993) -> (83.1491, 5.9993) centre (83.1491, 6.9993) ccw
  arc A10 (83.1491, 1.2487) -> (123.023, 2.6264) centre (83.1491, 578.9546) ccw
  arc A11 (83.1491, 1.2487) -> (81.9004, 0) centre (83.1491, 0) ccw
  line L17 (83.1491, 0) -> (89.0198, 0)
  arc A12 (83.1491, -12.75) -> (123.023, -11.3723) centre (83.1491, 564.9559) ccw
  arc A13 (123.023, -11.3723) -> (123.023, -9.3771) centre (122.954, -10.3747) ccw
  arc A14 (123.023, -9.3771) -> (83.1491, -7.9993) centre (83.1491, -585.7052) ccw
  arc A15 (82.1491, -6.9993) -> (83.1491, -7.9993) centre (83.1491, -6.9993) ccw
  arc A16 (123.023, -4.6216) -> (123.023, -2.6264) centre (122.954, -3.624) ccw
  arc A17 (83.1491, -5.9993) -> (123.023, -4.6216) centre (83.1491, 571.7065) ccw
  arc A18 (83.1491, -5.9993) -> (82.1491, -6.9993) centre (83.1491, -6.9993) ccw
  arc A19 (123.023, -2.6264) -> (83.1491, -1.2487) centre (83.1491, -578.9546) ccw
  arc A20 (81.9004, 0) -> (83.1491, -1.2487) centre (83.1491, 0) ccw
  arc A21 (66.3891, -8.3029) -> (49.6292, -4.05) centre (50.332, -36.4306) ccw
  arc A22 (66.3891, -8.3029) -> (83.1491, -12.75) centre (83.1491, 21.0558) ccw
  point P0 (-34, 0)
  point P1 (-34, 0)
  point P2 (49.6292, 0)
  point P3 (134.4168, 9.5625)
  point P4 (134.4168, 3.1875)
  point P5 (134.4168, -3.1875)
  point P6 (134.4168, -9.5625)
  dimension "d60" = 8.1
  dimension "d61" = 11.6
  dimension "d62" = 3
  dimension "d67" = 1
  dimension "d68" = 1
extrude "押し出し4" cut sketch "スケッチ7" along normal blind 25.5 contours L1 L3 L2 A0 | A1 A2 A3 A4 A5 A6 A9 A8 A7 A10 A11 A20 A19 A16 A17 A18 A15 A14 A13 A12 A22 A21 L3 keep common part
sketch "スケッチ8" plane through (0, -15, 0) normal (0, 1, 0) x (-1, 0, 0)
  arc A0 (-31, 5.8) -> (-31, -5.8) centre (-26.8933, 0) ccw projected
  point P0 (0, 0)
  point P1 (-21.5, 0)
  point P2 (28.5, 0)
  point P3 (-34, 0)
  dimension "d71" = 50
  dimension "d72" = 12.5
hole "穴2" at (21.5, -15, 0) at (-28.5, -15, 0) direction (0, 1, 0) diameter 1.778 end through all clearance for "Flat Head Machine Screw (82)" size "#0" standard "Ansi Unified Screw Threads"
properties part number "fork" material "ポリスチレン"
